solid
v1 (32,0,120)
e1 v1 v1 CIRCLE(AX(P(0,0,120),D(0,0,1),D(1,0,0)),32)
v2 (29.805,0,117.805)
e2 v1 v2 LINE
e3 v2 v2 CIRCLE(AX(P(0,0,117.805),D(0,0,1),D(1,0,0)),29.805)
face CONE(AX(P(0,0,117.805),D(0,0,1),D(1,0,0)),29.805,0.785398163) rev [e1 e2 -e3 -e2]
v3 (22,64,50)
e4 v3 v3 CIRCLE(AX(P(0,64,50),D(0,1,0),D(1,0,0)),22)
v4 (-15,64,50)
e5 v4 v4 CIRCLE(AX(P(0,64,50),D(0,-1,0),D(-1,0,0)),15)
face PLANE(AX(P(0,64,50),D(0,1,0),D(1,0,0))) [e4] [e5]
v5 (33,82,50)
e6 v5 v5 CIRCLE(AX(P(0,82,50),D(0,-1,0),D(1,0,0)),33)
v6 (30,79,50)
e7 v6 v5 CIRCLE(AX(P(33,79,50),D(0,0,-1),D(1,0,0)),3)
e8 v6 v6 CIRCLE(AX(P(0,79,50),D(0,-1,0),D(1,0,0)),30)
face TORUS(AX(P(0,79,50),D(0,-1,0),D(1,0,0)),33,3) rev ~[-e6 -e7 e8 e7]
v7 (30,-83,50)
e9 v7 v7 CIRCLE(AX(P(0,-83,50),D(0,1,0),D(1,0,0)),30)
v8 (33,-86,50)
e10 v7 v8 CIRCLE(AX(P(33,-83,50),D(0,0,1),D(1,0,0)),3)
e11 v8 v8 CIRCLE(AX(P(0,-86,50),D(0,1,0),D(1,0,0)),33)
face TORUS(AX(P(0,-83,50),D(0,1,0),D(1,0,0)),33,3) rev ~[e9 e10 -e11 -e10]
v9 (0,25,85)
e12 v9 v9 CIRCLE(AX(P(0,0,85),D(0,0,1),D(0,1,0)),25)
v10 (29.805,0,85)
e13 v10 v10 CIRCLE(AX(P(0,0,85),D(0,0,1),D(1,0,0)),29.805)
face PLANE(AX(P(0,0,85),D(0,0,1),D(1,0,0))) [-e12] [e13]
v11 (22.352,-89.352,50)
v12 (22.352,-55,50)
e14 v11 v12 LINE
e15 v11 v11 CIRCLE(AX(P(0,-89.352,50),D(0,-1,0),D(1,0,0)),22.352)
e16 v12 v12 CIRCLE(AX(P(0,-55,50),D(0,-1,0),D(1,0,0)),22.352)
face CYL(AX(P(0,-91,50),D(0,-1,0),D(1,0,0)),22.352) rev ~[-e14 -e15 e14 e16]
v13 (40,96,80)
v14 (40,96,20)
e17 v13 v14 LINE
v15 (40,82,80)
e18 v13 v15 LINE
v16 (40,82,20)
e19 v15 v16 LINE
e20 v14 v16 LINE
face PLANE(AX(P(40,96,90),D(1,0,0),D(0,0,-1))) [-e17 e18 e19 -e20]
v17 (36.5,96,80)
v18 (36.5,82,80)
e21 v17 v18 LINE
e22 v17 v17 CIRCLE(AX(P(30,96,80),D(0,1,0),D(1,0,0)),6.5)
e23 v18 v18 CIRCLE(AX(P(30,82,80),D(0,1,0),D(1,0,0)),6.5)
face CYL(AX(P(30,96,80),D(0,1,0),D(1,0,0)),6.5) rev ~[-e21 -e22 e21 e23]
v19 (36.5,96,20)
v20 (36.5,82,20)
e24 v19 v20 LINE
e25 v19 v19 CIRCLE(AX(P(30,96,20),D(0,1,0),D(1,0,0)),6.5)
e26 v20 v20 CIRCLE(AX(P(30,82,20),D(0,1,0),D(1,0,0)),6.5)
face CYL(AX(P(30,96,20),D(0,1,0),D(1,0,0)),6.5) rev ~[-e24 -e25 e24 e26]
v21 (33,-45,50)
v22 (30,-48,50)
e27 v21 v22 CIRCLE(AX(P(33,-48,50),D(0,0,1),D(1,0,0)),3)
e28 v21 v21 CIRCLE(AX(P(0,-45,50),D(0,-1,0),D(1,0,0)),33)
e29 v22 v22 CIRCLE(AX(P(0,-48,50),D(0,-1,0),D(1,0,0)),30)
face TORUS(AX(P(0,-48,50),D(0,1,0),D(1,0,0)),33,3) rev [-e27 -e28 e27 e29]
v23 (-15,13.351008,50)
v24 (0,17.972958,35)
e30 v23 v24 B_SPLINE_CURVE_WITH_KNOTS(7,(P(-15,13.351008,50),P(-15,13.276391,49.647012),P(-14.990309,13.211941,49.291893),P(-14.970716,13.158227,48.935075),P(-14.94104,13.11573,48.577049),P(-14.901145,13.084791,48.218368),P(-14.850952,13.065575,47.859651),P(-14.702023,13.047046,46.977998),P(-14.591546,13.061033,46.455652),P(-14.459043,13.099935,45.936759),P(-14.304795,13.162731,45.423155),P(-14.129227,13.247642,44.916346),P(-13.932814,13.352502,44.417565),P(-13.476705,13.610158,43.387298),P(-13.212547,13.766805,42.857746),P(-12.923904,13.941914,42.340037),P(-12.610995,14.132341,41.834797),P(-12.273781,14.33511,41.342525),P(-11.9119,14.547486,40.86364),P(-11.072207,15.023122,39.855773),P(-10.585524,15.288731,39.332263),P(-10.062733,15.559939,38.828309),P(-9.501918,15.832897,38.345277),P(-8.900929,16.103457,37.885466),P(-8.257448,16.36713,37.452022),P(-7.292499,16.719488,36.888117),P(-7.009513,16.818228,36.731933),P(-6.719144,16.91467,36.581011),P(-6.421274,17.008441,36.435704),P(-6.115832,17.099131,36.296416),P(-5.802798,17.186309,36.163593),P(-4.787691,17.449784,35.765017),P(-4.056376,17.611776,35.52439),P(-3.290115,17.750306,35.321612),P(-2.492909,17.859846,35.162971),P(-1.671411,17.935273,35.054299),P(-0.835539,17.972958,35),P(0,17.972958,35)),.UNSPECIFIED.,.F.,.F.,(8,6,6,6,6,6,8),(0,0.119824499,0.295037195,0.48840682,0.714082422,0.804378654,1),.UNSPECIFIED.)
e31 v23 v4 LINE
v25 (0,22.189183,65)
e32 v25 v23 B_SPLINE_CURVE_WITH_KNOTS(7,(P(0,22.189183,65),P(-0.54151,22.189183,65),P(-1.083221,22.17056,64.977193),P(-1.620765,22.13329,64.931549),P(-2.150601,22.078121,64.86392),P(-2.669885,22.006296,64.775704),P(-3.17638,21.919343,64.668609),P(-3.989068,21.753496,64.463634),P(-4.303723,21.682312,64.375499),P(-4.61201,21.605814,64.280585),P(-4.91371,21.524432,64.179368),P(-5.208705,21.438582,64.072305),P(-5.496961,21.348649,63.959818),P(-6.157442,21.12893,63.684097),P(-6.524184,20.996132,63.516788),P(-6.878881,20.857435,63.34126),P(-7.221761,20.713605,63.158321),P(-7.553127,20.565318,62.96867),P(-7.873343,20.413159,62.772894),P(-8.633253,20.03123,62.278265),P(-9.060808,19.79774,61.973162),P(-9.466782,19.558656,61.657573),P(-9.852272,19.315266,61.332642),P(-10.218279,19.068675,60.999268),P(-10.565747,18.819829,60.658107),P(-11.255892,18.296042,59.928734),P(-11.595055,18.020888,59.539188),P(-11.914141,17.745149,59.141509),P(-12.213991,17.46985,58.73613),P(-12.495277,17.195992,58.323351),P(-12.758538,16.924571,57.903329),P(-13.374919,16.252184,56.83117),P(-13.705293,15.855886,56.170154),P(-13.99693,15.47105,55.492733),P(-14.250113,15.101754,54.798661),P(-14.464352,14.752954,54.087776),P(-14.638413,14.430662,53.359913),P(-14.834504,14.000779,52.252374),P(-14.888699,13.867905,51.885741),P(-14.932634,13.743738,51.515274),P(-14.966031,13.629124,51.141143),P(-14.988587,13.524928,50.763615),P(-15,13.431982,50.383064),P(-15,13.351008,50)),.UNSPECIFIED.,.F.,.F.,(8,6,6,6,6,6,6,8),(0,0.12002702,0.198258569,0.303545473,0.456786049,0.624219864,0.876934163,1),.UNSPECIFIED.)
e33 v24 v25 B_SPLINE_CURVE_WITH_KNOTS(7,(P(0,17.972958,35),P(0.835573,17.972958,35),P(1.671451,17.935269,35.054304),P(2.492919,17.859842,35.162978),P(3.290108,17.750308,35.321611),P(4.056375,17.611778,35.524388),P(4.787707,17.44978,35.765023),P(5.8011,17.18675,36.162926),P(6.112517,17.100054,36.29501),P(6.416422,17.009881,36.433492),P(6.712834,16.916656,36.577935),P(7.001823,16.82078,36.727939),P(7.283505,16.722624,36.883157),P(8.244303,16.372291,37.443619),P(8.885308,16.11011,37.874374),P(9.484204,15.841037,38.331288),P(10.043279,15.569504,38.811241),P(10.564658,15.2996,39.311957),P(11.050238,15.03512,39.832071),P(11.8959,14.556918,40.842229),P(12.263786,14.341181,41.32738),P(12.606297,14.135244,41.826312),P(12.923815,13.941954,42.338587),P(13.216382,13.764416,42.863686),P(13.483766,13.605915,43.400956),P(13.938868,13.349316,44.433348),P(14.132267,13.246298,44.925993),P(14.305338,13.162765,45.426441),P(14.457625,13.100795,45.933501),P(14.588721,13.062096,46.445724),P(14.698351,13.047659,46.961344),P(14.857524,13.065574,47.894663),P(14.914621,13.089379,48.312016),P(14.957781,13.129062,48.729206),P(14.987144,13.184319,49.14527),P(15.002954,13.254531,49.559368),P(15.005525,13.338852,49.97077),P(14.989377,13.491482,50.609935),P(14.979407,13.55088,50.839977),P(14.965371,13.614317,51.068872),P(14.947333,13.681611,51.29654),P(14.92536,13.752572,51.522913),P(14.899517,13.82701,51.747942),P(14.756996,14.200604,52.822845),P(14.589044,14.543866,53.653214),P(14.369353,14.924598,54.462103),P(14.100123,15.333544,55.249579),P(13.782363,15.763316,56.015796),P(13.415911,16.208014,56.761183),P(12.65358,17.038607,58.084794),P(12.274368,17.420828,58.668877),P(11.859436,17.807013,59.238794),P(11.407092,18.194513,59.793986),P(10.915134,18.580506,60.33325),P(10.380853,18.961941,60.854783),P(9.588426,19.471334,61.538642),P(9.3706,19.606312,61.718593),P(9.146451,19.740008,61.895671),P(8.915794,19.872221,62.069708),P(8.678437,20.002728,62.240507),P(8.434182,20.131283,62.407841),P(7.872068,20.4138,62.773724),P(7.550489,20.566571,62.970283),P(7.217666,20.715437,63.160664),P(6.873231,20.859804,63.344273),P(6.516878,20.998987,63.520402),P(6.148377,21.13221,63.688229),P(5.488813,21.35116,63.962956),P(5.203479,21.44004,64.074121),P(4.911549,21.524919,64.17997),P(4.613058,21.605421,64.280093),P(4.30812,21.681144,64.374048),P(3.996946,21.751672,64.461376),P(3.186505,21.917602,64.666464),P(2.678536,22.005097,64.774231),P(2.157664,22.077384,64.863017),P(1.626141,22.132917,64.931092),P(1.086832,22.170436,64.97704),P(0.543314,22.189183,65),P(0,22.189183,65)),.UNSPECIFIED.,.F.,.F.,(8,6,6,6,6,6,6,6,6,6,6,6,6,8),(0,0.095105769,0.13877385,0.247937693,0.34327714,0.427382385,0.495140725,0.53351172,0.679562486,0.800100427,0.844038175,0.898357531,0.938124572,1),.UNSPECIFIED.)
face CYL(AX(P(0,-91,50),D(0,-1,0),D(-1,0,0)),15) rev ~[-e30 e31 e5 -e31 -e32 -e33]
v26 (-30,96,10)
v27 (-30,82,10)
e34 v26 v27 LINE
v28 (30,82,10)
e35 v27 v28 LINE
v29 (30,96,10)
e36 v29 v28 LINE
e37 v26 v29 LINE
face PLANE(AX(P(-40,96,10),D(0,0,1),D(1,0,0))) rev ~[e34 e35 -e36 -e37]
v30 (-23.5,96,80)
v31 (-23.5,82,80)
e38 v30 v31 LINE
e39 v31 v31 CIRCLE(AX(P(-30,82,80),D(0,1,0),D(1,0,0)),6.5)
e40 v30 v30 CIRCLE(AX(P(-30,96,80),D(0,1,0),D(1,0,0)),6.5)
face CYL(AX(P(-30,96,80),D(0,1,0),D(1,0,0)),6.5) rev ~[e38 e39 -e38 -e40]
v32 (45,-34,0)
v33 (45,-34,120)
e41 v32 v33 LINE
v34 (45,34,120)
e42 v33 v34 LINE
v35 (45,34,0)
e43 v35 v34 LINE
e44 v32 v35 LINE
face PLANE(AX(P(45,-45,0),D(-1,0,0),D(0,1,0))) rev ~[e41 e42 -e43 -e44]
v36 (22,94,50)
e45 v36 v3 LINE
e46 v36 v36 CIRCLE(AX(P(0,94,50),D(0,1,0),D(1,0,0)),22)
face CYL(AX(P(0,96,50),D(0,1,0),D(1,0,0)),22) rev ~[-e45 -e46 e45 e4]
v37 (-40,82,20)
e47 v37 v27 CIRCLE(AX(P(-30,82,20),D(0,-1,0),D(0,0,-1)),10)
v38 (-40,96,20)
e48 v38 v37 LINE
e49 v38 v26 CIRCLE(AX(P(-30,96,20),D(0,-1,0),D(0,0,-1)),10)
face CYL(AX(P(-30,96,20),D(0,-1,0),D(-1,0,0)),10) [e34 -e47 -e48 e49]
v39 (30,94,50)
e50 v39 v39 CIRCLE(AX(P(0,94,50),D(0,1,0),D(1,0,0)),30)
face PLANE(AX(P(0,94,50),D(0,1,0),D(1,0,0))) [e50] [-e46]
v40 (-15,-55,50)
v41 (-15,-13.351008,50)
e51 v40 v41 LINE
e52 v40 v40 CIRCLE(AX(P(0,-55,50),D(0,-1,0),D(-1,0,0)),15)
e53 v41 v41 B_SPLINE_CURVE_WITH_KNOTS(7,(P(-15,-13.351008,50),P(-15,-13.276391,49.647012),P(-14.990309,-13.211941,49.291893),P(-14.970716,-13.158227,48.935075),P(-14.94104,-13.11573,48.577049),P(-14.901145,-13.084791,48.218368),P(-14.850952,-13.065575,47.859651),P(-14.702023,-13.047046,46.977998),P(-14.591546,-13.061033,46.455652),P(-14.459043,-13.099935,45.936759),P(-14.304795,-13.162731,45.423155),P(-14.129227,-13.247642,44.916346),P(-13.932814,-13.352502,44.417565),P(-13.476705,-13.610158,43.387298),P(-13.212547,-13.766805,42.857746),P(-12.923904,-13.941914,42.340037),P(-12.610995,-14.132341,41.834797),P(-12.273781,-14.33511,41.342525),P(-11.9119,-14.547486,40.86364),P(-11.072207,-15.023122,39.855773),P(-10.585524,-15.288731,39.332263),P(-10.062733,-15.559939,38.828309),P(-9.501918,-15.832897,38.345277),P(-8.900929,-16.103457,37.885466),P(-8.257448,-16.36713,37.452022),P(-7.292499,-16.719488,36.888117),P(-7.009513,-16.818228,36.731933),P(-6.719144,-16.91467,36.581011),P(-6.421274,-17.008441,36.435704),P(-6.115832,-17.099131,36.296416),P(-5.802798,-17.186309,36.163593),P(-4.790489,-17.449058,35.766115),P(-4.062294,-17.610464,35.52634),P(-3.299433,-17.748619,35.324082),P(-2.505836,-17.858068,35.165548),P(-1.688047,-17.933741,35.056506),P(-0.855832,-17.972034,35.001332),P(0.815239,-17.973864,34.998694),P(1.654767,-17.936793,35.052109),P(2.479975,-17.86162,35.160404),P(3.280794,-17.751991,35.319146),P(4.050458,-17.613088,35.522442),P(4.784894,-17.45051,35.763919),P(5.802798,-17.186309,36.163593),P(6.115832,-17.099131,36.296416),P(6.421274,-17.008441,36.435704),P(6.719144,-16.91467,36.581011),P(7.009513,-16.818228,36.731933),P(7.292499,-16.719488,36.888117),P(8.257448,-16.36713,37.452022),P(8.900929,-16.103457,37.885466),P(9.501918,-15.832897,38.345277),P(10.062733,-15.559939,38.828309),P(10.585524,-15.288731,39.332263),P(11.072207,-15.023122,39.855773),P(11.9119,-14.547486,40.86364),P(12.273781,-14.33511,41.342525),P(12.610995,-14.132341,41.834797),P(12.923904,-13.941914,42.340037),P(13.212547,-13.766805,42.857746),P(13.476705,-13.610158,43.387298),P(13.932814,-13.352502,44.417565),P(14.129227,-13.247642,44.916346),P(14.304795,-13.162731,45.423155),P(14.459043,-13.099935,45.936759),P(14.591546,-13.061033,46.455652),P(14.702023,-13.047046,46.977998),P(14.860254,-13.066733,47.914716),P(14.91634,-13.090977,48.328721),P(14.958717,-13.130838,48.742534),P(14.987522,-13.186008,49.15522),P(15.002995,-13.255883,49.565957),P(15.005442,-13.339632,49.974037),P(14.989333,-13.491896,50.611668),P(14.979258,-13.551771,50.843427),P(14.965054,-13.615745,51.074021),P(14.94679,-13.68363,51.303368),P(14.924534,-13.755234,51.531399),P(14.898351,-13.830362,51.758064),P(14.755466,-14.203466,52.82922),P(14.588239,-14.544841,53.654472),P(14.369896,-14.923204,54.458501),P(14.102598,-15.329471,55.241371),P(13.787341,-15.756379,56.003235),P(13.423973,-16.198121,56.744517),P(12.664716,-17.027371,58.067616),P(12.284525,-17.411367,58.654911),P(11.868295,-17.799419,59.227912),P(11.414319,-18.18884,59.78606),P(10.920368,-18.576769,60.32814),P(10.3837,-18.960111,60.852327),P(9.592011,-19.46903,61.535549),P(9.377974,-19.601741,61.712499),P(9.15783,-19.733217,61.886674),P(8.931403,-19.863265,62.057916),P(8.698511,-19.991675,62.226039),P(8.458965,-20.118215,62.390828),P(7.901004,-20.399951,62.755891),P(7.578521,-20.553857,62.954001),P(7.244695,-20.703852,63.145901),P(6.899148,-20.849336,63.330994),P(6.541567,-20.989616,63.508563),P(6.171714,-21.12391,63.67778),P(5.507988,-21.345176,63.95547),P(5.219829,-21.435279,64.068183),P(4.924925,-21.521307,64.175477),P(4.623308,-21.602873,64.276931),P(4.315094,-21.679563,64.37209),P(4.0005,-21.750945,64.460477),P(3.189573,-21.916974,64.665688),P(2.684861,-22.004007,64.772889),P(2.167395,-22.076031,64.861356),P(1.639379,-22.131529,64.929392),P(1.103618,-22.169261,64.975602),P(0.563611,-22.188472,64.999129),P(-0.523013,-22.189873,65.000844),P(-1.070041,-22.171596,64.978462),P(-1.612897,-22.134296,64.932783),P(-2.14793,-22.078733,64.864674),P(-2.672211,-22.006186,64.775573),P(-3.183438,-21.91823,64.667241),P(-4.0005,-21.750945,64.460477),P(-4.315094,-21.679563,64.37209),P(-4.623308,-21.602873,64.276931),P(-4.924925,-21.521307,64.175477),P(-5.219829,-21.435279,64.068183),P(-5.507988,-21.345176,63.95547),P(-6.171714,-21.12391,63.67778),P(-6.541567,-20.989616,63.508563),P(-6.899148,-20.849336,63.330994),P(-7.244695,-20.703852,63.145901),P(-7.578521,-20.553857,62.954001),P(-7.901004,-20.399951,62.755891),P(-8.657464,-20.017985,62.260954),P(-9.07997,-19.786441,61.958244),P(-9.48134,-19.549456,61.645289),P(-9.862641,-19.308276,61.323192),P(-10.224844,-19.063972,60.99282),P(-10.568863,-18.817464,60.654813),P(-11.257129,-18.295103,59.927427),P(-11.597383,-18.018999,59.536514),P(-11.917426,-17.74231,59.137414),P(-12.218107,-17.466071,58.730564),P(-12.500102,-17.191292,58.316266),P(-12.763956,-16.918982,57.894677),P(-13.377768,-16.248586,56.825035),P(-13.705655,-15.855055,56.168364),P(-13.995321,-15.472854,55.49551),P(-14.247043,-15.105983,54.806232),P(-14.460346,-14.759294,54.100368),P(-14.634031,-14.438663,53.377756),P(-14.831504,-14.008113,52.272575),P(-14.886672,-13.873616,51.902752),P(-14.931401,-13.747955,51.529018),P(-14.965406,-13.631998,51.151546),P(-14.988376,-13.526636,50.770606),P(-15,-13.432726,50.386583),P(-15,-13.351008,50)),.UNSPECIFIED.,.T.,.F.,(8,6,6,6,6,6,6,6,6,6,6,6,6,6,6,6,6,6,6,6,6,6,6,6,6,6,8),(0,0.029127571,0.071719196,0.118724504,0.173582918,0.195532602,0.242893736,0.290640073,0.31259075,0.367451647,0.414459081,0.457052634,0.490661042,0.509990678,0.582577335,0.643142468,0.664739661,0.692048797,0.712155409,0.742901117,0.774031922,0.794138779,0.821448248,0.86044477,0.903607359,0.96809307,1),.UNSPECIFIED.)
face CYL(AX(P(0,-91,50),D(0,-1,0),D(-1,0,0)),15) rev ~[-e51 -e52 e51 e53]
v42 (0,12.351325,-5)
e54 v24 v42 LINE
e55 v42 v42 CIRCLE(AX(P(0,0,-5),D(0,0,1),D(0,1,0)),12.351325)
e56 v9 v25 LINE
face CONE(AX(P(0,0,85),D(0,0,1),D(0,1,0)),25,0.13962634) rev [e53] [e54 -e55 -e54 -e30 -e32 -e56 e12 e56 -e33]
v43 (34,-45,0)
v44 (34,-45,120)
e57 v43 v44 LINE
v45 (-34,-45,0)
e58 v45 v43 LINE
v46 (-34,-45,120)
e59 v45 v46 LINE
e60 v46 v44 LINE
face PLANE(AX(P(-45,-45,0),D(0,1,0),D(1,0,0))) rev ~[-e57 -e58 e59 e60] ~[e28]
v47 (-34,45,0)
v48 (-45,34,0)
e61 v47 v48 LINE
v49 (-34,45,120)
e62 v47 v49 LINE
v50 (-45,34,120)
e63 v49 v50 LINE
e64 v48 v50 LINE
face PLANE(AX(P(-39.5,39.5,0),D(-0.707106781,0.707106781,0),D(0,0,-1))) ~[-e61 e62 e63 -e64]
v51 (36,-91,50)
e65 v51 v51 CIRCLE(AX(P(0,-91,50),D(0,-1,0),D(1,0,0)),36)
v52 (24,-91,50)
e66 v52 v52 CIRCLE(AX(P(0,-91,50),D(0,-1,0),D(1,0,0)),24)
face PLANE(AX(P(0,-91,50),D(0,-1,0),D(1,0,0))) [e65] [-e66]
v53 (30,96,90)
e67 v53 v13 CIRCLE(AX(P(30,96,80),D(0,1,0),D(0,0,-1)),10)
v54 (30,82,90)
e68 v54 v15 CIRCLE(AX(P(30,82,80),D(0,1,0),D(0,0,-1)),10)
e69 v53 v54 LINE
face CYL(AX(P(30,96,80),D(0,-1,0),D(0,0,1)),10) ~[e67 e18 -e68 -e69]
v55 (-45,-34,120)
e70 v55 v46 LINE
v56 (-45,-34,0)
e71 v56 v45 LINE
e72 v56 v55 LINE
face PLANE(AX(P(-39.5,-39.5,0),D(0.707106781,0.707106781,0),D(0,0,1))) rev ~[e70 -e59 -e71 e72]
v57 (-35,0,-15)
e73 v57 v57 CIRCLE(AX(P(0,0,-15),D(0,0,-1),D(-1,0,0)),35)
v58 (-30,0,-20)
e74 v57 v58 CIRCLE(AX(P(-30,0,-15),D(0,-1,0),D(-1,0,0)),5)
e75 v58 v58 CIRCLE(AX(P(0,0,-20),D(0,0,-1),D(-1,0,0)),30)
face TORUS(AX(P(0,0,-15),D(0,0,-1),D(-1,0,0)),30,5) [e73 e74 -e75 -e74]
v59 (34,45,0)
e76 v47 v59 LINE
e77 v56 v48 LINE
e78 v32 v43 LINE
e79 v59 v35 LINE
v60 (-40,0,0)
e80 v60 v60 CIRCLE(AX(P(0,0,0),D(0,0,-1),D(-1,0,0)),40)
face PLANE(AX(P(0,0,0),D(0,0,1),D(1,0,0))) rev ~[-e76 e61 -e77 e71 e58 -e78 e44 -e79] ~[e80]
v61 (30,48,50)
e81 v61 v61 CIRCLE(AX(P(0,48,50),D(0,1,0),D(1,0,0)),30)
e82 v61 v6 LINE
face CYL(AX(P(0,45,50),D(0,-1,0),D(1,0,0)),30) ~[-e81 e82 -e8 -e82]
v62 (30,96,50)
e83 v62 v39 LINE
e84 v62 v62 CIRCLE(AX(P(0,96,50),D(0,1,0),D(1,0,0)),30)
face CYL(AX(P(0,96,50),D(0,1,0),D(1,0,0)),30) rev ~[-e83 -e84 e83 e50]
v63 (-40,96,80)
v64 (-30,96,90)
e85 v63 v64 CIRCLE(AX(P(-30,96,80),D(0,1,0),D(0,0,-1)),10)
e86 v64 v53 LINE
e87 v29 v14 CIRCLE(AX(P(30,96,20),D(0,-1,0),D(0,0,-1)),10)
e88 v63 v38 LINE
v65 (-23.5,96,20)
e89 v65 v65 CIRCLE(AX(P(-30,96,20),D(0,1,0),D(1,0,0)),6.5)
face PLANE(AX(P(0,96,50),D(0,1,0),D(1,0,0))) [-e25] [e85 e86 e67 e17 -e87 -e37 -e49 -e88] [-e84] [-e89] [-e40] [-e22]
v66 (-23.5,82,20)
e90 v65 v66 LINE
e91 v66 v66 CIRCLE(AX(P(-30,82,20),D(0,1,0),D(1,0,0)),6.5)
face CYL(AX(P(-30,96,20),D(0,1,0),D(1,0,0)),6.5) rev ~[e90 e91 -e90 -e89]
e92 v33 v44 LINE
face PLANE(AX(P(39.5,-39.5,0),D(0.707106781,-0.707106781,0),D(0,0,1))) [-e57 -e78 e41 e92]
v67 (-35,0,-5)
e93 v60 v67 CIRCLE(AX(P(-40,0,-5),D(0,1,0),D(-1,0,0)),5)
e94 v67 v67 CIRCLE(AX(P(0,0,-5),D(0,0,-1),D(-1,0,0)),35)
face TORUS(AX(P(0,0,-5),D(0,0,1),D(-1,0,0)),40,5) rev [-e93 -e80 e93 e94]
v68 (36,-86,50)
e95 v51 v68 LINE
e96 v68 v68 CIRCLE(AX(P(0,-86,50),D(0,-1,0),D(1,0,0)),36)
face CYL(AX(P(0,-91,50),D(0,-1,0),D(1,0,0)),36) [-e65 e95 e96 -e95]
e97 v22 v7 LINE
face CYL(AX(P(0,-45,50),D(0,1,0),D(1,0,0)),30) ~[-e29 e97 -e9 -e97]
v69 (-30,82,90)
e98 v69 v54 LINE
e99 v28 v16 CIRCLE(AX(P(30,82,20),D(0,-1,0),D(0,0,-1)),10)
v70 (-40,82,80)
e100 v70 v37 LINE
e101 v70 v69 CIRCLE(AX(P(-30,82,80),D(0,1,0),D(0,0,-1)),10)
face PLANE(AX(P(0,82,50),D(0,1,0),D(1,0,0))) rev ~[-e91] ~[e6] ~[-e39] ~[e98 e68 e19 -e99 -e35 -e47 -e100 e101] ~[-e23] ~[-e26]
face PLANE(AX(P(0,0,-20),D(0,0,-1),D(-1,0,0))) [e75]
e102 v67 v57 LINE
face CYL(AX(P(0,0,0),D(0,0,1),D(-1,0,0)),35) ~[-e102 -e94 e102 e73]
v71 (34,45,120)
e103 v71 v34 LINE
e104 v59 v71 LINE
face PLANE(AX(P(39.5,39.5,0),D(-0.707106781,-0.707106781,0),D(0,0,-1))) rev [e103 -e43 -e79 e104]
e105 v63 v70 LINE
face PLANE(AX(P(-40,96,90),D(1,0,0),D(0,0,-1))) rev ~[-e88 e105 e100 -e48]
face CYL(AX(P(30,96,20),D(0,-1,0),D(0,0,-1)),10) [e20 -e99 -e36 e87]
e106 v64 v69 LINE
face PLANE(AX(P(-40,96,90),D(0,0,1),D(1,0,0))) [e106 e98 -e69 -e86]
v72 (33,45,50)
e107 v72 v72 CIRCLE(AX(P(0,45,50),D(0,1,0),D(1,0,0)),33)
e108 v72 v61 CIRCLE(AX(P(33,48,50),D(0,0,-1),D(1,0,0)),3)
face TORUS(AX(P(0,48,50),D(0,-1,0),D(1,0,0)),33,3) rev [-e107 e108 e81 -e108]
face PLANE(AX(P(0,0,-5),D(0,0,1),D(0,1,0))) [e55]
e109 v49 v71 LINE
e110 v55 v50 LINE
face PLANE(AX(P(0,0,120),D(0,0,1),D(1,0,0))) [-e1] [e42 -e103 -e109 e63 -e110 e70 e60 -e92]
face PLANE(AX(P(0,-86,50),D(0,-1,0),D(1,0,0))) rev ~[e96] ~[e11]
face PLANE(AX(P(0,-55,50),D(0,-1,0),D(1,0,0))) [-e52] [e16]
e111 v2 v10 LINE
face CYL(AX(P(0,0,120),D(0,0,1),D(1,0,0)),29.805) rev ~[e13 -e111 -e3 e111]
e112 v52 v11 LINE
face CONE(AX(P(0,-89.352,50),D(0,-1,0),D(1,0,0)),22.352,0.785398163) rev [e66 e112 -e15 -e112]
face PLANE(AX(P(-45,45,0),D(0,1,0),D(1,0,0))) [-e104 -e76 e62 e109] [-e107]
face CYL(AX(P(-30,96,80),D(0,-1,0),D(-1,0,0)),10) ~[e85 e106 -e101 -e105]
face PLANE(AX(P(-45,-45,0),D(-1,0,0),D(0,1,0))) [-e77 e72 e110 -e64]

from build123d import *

# Parameters (mm, degrees)
SKETCH_1_W          = 90
SKETCH_1_H          = 90
EXTRUDE_1_DEPTH     = 120
SKETCH_9_R          = 35
EXTRUDE_6_DEPTH     = 20
SKETCH_2_R          = 30
EXTRUDE_2_DEPTH     = 51
SKETCH_3_W          = 80
SKETCH_3_H          = 80
EXTRUDE_3_DEPTH     = 14
SKETCH_4_R          = 30
EXTRUDE_4_DEPTH     = 46
SKETCH_5_R          = 36
EXTRUDE_5_DEPTH     = 5
SKETCH_6_R          = 15
CUT_EXTRUDE_1_DEPTH = 188
SKETCH_7_R          = 22
CUT_EXTRUDE_2_DEPTH = 32
SKETCH_8_R          = 22.352
CUT_EXTRUDE_3_DEPTH = 36
FILLET_1_R          = 10
SKETCH_10_R         = 6.5
CUT_EXTRUDE_4_DEPTH = 14
CHAMFER_1_SIZE      = 11
FILLET_2_R          = 5
SKETCH_11_R         = 29.805
CUT_EXTRUDE_5_DEPTH = 35
CHAMFER_2_SIZE      = 2.195
SKETCH_14_R         = 30
CUT_EXTRUDE_6_DEPTH = 2
FILLET_3_R          = 3
CHAMFER_4_SIZE      = 1.648


with BuildPart() as part:
    # Эскиз1 → Бобышка-Вытянуть1 (new body)
    with BuildSketch(Plane.XY):
        Rectangle(SKETCH_1_W, SKETCH_1_H)
    extrude(amount=EXTRUDE_1_DEPTH)

    # Эскиз9 → Бобышка-Вытянуть6 (add)
    with BuildSketch(Plane(origin=(0, 0, 0), x_dir=(-1, 0, 0), z_dir=(0, 0, -1))):
        Circle(SKETCH_9_R)
    extrude(amount=EXTRUDE_6_DEPTH)

    # Эскиз2 → Бобышка-Вытянуть2 (add)
    with BuildSketch(Plane(origin=(0, 45, 0), x_dir=(1, 0, 0), z_dir=(0, 1, 0))):
        with Locations((0, -50)):
            Circle(SKETCH_2_R)
    extrude(amount=EXTRUDE_2_DEPTH)

    # Эскиз3 → Бобышка-Вытянуть3 (add)
    with BuildSketch(Plane(origin=(0, 96, 0), x_dir=(1, 0, 0), z_dir=(0, 1, 0))):
        with Locations((0, -50)):
            Rectangle(SKETCH_3_W, SKETCH_3_H)
    extrude(amount=-EXTRUDE_3_DEPTH)

    # Эскиз4 → Бобышка-Вытянуть4 (add)
    with BuildSketch(Plane.XZ.offset(45)):
        with Locations((0, 50)):
            Circle(SKETCH_4_R)
    extrude(amount=EXTRUDE_4_DEPTH)

    # Эскиз5 → Бобышка-Вытянуть5 (add)
    with BuildSketch(Plane.XZ.offset(91)):
        with Locations((0, 50)):
            Circle(SKETCH_5_R)
    extrude(amount=-EXTRUDE_5_DEPTH)

    # Эскиз6 → Вырез-Вытянуть1 (cut, through all)
    with BuildSketch(Plane(origin=(0, -91, 0), x_dir=(-1, 0, 0), z_dir=(0, -1, 0))):
        with Locations((0, -50)):
            Circle(SKETCH_6_R)
    extrude(amount=-CUT_EXTRUDE_1_DEPTH, mode=Mode.SUBTRACT)

    # Эскиз7 → Вырез-Вытянуть2 (cut)
    with BuildSketch(Plane(origin=(0, 96, 0), x_dir=(1, 0, 0), z_dir=(0, 1, 0))):
        with Locations((0, -50)):
            Circle(SKETCH_7_R)
    extrude(amount=-CUT_EXTRUDE_2_DEPTH, mode=Mode.SUBTRACT)

    # Эскиз8 → Вырез-Вытянуть3 (cut)
    with BuildSketch(Plane.XZ.offset(91)):
        with Locations((0, 50)):
            Circle(SKETCH_8_R)
    extrude(amount=-CUT_EXTRUDE_3_DEPTH, mode=Mode.SUBTRACT)

    # Скругление1
    fillet_1_edges = [part.edges().sort_by_distance(p)[0] for p in [
        (40, 89, 10),
        (40, 89, 90),
        (-40, 89, 90),
        (-40, 89, 10),
    ]]
    fillet(fillet_1_edges, radius=FILLET_1_R)

    # Эскиз10 → Вырез-Вытянуть4 (cut)
    with BuildSketch(Plane(origin=(0, 96, 0), x_dir=(1, 0, 0), z_dir=(0, 1, 0))):
        with Locations((-30, -20)):
            Circle(SKETCH_10_R)
        with Locations((30, -80)):
            Circle(SKETCH_10_R)
        with Locations((30, -20)):
            Circle(SKETCH_10_R)
        with Locations((-30, -80)):
            Circle(SKETCH_10_R)
    extrude(amount=-CUT_EXTRUDE_4_DEPTH, mode=Mode.SUBTRACT)

    # Фаска1
    chamfer_1_edges = [part.edges().sort_by_distance(p)[0] for p in [
        (45, -45, 60),
        (-45, -45, 60),
        (-45, 45, 60),
        (45, 45, 60),
    ]]
    chamfer(chamfer_1_edges, length=CHAMFER_1_SIZE)

    # Скругление2
    fillet_2_edges = [part.edges().sort_by_distance(p)[0] for p in [
        (35, 0, 0),
        (35, 0, -20),
    ]]
    fillet(fillet_2_edges, radius=FILLET_2_R)

    # Эскиз11 → Вырез-Вытянуть5 (cut)
    with BuildSketch(Plane.XY.offset(120)):
        Circle(SKETCH_11_R)
    extrude(amount=-CUT_EXTRUDE_5_DEPTH, mode=Mode.SUBTRACT)

    # Эскиз13 → Вырез-Повернуть1 (revolve, cut)
    with BuildSketch(Plane(origin=(0, 0, 0), x_dir=(0, 0, -1), z_dir=(1, 0, 0))):
        Polygon((-85, 25), (5, 12.351324877), (5, 0), (-85, 0), align=None)
    revolve(axis=Axis((0, 0, 0), (0, 0, 1)), mode=Mode.SUBTRACT)

    # Фаска2
    chamfer_2_edges = [part.edges().sort_by_distance(p)[0] for p in [
        (-29.805, 0, 120),
    ]]
    chamfer(chamfer_2_edges, length=CHAMFER_2_SIZE)

    # Эскиз14 → Вырез-Вытянуть6 (cut)
    with BuildSketch(Plane(origin=(0, 96, 0), x_dir=(1, 0, 0), z_dir=(0, 1, 0))):
        with Locations((0, -50)):
            Circle(SKETCH_14_R)
    extrude(amount=-CUT_EXTRUDE_6_DEPTH, mode=Mode.SUBTRACT)

    # Скругление3
    fillet_3_edges = [part.edges().sort_by_distance(p)[0] for p in [
        (-30, 45, 50),
        (-30, 82, 50),
        (-30, -45, 50),
        (-30, -86, 50),
    ]]
    fillet(fillet_3_edges, radius=FILLET_3_R)

    # Фаска4
    chamfer_4_edges = [part.edges().sort_by_distance(p)[0] for p in [
        (-22.352, -91, 50),
    ]]
    chamfer(chamfer_4_edges, length=CHAMFER_4_SIZE)


solid = part.part
